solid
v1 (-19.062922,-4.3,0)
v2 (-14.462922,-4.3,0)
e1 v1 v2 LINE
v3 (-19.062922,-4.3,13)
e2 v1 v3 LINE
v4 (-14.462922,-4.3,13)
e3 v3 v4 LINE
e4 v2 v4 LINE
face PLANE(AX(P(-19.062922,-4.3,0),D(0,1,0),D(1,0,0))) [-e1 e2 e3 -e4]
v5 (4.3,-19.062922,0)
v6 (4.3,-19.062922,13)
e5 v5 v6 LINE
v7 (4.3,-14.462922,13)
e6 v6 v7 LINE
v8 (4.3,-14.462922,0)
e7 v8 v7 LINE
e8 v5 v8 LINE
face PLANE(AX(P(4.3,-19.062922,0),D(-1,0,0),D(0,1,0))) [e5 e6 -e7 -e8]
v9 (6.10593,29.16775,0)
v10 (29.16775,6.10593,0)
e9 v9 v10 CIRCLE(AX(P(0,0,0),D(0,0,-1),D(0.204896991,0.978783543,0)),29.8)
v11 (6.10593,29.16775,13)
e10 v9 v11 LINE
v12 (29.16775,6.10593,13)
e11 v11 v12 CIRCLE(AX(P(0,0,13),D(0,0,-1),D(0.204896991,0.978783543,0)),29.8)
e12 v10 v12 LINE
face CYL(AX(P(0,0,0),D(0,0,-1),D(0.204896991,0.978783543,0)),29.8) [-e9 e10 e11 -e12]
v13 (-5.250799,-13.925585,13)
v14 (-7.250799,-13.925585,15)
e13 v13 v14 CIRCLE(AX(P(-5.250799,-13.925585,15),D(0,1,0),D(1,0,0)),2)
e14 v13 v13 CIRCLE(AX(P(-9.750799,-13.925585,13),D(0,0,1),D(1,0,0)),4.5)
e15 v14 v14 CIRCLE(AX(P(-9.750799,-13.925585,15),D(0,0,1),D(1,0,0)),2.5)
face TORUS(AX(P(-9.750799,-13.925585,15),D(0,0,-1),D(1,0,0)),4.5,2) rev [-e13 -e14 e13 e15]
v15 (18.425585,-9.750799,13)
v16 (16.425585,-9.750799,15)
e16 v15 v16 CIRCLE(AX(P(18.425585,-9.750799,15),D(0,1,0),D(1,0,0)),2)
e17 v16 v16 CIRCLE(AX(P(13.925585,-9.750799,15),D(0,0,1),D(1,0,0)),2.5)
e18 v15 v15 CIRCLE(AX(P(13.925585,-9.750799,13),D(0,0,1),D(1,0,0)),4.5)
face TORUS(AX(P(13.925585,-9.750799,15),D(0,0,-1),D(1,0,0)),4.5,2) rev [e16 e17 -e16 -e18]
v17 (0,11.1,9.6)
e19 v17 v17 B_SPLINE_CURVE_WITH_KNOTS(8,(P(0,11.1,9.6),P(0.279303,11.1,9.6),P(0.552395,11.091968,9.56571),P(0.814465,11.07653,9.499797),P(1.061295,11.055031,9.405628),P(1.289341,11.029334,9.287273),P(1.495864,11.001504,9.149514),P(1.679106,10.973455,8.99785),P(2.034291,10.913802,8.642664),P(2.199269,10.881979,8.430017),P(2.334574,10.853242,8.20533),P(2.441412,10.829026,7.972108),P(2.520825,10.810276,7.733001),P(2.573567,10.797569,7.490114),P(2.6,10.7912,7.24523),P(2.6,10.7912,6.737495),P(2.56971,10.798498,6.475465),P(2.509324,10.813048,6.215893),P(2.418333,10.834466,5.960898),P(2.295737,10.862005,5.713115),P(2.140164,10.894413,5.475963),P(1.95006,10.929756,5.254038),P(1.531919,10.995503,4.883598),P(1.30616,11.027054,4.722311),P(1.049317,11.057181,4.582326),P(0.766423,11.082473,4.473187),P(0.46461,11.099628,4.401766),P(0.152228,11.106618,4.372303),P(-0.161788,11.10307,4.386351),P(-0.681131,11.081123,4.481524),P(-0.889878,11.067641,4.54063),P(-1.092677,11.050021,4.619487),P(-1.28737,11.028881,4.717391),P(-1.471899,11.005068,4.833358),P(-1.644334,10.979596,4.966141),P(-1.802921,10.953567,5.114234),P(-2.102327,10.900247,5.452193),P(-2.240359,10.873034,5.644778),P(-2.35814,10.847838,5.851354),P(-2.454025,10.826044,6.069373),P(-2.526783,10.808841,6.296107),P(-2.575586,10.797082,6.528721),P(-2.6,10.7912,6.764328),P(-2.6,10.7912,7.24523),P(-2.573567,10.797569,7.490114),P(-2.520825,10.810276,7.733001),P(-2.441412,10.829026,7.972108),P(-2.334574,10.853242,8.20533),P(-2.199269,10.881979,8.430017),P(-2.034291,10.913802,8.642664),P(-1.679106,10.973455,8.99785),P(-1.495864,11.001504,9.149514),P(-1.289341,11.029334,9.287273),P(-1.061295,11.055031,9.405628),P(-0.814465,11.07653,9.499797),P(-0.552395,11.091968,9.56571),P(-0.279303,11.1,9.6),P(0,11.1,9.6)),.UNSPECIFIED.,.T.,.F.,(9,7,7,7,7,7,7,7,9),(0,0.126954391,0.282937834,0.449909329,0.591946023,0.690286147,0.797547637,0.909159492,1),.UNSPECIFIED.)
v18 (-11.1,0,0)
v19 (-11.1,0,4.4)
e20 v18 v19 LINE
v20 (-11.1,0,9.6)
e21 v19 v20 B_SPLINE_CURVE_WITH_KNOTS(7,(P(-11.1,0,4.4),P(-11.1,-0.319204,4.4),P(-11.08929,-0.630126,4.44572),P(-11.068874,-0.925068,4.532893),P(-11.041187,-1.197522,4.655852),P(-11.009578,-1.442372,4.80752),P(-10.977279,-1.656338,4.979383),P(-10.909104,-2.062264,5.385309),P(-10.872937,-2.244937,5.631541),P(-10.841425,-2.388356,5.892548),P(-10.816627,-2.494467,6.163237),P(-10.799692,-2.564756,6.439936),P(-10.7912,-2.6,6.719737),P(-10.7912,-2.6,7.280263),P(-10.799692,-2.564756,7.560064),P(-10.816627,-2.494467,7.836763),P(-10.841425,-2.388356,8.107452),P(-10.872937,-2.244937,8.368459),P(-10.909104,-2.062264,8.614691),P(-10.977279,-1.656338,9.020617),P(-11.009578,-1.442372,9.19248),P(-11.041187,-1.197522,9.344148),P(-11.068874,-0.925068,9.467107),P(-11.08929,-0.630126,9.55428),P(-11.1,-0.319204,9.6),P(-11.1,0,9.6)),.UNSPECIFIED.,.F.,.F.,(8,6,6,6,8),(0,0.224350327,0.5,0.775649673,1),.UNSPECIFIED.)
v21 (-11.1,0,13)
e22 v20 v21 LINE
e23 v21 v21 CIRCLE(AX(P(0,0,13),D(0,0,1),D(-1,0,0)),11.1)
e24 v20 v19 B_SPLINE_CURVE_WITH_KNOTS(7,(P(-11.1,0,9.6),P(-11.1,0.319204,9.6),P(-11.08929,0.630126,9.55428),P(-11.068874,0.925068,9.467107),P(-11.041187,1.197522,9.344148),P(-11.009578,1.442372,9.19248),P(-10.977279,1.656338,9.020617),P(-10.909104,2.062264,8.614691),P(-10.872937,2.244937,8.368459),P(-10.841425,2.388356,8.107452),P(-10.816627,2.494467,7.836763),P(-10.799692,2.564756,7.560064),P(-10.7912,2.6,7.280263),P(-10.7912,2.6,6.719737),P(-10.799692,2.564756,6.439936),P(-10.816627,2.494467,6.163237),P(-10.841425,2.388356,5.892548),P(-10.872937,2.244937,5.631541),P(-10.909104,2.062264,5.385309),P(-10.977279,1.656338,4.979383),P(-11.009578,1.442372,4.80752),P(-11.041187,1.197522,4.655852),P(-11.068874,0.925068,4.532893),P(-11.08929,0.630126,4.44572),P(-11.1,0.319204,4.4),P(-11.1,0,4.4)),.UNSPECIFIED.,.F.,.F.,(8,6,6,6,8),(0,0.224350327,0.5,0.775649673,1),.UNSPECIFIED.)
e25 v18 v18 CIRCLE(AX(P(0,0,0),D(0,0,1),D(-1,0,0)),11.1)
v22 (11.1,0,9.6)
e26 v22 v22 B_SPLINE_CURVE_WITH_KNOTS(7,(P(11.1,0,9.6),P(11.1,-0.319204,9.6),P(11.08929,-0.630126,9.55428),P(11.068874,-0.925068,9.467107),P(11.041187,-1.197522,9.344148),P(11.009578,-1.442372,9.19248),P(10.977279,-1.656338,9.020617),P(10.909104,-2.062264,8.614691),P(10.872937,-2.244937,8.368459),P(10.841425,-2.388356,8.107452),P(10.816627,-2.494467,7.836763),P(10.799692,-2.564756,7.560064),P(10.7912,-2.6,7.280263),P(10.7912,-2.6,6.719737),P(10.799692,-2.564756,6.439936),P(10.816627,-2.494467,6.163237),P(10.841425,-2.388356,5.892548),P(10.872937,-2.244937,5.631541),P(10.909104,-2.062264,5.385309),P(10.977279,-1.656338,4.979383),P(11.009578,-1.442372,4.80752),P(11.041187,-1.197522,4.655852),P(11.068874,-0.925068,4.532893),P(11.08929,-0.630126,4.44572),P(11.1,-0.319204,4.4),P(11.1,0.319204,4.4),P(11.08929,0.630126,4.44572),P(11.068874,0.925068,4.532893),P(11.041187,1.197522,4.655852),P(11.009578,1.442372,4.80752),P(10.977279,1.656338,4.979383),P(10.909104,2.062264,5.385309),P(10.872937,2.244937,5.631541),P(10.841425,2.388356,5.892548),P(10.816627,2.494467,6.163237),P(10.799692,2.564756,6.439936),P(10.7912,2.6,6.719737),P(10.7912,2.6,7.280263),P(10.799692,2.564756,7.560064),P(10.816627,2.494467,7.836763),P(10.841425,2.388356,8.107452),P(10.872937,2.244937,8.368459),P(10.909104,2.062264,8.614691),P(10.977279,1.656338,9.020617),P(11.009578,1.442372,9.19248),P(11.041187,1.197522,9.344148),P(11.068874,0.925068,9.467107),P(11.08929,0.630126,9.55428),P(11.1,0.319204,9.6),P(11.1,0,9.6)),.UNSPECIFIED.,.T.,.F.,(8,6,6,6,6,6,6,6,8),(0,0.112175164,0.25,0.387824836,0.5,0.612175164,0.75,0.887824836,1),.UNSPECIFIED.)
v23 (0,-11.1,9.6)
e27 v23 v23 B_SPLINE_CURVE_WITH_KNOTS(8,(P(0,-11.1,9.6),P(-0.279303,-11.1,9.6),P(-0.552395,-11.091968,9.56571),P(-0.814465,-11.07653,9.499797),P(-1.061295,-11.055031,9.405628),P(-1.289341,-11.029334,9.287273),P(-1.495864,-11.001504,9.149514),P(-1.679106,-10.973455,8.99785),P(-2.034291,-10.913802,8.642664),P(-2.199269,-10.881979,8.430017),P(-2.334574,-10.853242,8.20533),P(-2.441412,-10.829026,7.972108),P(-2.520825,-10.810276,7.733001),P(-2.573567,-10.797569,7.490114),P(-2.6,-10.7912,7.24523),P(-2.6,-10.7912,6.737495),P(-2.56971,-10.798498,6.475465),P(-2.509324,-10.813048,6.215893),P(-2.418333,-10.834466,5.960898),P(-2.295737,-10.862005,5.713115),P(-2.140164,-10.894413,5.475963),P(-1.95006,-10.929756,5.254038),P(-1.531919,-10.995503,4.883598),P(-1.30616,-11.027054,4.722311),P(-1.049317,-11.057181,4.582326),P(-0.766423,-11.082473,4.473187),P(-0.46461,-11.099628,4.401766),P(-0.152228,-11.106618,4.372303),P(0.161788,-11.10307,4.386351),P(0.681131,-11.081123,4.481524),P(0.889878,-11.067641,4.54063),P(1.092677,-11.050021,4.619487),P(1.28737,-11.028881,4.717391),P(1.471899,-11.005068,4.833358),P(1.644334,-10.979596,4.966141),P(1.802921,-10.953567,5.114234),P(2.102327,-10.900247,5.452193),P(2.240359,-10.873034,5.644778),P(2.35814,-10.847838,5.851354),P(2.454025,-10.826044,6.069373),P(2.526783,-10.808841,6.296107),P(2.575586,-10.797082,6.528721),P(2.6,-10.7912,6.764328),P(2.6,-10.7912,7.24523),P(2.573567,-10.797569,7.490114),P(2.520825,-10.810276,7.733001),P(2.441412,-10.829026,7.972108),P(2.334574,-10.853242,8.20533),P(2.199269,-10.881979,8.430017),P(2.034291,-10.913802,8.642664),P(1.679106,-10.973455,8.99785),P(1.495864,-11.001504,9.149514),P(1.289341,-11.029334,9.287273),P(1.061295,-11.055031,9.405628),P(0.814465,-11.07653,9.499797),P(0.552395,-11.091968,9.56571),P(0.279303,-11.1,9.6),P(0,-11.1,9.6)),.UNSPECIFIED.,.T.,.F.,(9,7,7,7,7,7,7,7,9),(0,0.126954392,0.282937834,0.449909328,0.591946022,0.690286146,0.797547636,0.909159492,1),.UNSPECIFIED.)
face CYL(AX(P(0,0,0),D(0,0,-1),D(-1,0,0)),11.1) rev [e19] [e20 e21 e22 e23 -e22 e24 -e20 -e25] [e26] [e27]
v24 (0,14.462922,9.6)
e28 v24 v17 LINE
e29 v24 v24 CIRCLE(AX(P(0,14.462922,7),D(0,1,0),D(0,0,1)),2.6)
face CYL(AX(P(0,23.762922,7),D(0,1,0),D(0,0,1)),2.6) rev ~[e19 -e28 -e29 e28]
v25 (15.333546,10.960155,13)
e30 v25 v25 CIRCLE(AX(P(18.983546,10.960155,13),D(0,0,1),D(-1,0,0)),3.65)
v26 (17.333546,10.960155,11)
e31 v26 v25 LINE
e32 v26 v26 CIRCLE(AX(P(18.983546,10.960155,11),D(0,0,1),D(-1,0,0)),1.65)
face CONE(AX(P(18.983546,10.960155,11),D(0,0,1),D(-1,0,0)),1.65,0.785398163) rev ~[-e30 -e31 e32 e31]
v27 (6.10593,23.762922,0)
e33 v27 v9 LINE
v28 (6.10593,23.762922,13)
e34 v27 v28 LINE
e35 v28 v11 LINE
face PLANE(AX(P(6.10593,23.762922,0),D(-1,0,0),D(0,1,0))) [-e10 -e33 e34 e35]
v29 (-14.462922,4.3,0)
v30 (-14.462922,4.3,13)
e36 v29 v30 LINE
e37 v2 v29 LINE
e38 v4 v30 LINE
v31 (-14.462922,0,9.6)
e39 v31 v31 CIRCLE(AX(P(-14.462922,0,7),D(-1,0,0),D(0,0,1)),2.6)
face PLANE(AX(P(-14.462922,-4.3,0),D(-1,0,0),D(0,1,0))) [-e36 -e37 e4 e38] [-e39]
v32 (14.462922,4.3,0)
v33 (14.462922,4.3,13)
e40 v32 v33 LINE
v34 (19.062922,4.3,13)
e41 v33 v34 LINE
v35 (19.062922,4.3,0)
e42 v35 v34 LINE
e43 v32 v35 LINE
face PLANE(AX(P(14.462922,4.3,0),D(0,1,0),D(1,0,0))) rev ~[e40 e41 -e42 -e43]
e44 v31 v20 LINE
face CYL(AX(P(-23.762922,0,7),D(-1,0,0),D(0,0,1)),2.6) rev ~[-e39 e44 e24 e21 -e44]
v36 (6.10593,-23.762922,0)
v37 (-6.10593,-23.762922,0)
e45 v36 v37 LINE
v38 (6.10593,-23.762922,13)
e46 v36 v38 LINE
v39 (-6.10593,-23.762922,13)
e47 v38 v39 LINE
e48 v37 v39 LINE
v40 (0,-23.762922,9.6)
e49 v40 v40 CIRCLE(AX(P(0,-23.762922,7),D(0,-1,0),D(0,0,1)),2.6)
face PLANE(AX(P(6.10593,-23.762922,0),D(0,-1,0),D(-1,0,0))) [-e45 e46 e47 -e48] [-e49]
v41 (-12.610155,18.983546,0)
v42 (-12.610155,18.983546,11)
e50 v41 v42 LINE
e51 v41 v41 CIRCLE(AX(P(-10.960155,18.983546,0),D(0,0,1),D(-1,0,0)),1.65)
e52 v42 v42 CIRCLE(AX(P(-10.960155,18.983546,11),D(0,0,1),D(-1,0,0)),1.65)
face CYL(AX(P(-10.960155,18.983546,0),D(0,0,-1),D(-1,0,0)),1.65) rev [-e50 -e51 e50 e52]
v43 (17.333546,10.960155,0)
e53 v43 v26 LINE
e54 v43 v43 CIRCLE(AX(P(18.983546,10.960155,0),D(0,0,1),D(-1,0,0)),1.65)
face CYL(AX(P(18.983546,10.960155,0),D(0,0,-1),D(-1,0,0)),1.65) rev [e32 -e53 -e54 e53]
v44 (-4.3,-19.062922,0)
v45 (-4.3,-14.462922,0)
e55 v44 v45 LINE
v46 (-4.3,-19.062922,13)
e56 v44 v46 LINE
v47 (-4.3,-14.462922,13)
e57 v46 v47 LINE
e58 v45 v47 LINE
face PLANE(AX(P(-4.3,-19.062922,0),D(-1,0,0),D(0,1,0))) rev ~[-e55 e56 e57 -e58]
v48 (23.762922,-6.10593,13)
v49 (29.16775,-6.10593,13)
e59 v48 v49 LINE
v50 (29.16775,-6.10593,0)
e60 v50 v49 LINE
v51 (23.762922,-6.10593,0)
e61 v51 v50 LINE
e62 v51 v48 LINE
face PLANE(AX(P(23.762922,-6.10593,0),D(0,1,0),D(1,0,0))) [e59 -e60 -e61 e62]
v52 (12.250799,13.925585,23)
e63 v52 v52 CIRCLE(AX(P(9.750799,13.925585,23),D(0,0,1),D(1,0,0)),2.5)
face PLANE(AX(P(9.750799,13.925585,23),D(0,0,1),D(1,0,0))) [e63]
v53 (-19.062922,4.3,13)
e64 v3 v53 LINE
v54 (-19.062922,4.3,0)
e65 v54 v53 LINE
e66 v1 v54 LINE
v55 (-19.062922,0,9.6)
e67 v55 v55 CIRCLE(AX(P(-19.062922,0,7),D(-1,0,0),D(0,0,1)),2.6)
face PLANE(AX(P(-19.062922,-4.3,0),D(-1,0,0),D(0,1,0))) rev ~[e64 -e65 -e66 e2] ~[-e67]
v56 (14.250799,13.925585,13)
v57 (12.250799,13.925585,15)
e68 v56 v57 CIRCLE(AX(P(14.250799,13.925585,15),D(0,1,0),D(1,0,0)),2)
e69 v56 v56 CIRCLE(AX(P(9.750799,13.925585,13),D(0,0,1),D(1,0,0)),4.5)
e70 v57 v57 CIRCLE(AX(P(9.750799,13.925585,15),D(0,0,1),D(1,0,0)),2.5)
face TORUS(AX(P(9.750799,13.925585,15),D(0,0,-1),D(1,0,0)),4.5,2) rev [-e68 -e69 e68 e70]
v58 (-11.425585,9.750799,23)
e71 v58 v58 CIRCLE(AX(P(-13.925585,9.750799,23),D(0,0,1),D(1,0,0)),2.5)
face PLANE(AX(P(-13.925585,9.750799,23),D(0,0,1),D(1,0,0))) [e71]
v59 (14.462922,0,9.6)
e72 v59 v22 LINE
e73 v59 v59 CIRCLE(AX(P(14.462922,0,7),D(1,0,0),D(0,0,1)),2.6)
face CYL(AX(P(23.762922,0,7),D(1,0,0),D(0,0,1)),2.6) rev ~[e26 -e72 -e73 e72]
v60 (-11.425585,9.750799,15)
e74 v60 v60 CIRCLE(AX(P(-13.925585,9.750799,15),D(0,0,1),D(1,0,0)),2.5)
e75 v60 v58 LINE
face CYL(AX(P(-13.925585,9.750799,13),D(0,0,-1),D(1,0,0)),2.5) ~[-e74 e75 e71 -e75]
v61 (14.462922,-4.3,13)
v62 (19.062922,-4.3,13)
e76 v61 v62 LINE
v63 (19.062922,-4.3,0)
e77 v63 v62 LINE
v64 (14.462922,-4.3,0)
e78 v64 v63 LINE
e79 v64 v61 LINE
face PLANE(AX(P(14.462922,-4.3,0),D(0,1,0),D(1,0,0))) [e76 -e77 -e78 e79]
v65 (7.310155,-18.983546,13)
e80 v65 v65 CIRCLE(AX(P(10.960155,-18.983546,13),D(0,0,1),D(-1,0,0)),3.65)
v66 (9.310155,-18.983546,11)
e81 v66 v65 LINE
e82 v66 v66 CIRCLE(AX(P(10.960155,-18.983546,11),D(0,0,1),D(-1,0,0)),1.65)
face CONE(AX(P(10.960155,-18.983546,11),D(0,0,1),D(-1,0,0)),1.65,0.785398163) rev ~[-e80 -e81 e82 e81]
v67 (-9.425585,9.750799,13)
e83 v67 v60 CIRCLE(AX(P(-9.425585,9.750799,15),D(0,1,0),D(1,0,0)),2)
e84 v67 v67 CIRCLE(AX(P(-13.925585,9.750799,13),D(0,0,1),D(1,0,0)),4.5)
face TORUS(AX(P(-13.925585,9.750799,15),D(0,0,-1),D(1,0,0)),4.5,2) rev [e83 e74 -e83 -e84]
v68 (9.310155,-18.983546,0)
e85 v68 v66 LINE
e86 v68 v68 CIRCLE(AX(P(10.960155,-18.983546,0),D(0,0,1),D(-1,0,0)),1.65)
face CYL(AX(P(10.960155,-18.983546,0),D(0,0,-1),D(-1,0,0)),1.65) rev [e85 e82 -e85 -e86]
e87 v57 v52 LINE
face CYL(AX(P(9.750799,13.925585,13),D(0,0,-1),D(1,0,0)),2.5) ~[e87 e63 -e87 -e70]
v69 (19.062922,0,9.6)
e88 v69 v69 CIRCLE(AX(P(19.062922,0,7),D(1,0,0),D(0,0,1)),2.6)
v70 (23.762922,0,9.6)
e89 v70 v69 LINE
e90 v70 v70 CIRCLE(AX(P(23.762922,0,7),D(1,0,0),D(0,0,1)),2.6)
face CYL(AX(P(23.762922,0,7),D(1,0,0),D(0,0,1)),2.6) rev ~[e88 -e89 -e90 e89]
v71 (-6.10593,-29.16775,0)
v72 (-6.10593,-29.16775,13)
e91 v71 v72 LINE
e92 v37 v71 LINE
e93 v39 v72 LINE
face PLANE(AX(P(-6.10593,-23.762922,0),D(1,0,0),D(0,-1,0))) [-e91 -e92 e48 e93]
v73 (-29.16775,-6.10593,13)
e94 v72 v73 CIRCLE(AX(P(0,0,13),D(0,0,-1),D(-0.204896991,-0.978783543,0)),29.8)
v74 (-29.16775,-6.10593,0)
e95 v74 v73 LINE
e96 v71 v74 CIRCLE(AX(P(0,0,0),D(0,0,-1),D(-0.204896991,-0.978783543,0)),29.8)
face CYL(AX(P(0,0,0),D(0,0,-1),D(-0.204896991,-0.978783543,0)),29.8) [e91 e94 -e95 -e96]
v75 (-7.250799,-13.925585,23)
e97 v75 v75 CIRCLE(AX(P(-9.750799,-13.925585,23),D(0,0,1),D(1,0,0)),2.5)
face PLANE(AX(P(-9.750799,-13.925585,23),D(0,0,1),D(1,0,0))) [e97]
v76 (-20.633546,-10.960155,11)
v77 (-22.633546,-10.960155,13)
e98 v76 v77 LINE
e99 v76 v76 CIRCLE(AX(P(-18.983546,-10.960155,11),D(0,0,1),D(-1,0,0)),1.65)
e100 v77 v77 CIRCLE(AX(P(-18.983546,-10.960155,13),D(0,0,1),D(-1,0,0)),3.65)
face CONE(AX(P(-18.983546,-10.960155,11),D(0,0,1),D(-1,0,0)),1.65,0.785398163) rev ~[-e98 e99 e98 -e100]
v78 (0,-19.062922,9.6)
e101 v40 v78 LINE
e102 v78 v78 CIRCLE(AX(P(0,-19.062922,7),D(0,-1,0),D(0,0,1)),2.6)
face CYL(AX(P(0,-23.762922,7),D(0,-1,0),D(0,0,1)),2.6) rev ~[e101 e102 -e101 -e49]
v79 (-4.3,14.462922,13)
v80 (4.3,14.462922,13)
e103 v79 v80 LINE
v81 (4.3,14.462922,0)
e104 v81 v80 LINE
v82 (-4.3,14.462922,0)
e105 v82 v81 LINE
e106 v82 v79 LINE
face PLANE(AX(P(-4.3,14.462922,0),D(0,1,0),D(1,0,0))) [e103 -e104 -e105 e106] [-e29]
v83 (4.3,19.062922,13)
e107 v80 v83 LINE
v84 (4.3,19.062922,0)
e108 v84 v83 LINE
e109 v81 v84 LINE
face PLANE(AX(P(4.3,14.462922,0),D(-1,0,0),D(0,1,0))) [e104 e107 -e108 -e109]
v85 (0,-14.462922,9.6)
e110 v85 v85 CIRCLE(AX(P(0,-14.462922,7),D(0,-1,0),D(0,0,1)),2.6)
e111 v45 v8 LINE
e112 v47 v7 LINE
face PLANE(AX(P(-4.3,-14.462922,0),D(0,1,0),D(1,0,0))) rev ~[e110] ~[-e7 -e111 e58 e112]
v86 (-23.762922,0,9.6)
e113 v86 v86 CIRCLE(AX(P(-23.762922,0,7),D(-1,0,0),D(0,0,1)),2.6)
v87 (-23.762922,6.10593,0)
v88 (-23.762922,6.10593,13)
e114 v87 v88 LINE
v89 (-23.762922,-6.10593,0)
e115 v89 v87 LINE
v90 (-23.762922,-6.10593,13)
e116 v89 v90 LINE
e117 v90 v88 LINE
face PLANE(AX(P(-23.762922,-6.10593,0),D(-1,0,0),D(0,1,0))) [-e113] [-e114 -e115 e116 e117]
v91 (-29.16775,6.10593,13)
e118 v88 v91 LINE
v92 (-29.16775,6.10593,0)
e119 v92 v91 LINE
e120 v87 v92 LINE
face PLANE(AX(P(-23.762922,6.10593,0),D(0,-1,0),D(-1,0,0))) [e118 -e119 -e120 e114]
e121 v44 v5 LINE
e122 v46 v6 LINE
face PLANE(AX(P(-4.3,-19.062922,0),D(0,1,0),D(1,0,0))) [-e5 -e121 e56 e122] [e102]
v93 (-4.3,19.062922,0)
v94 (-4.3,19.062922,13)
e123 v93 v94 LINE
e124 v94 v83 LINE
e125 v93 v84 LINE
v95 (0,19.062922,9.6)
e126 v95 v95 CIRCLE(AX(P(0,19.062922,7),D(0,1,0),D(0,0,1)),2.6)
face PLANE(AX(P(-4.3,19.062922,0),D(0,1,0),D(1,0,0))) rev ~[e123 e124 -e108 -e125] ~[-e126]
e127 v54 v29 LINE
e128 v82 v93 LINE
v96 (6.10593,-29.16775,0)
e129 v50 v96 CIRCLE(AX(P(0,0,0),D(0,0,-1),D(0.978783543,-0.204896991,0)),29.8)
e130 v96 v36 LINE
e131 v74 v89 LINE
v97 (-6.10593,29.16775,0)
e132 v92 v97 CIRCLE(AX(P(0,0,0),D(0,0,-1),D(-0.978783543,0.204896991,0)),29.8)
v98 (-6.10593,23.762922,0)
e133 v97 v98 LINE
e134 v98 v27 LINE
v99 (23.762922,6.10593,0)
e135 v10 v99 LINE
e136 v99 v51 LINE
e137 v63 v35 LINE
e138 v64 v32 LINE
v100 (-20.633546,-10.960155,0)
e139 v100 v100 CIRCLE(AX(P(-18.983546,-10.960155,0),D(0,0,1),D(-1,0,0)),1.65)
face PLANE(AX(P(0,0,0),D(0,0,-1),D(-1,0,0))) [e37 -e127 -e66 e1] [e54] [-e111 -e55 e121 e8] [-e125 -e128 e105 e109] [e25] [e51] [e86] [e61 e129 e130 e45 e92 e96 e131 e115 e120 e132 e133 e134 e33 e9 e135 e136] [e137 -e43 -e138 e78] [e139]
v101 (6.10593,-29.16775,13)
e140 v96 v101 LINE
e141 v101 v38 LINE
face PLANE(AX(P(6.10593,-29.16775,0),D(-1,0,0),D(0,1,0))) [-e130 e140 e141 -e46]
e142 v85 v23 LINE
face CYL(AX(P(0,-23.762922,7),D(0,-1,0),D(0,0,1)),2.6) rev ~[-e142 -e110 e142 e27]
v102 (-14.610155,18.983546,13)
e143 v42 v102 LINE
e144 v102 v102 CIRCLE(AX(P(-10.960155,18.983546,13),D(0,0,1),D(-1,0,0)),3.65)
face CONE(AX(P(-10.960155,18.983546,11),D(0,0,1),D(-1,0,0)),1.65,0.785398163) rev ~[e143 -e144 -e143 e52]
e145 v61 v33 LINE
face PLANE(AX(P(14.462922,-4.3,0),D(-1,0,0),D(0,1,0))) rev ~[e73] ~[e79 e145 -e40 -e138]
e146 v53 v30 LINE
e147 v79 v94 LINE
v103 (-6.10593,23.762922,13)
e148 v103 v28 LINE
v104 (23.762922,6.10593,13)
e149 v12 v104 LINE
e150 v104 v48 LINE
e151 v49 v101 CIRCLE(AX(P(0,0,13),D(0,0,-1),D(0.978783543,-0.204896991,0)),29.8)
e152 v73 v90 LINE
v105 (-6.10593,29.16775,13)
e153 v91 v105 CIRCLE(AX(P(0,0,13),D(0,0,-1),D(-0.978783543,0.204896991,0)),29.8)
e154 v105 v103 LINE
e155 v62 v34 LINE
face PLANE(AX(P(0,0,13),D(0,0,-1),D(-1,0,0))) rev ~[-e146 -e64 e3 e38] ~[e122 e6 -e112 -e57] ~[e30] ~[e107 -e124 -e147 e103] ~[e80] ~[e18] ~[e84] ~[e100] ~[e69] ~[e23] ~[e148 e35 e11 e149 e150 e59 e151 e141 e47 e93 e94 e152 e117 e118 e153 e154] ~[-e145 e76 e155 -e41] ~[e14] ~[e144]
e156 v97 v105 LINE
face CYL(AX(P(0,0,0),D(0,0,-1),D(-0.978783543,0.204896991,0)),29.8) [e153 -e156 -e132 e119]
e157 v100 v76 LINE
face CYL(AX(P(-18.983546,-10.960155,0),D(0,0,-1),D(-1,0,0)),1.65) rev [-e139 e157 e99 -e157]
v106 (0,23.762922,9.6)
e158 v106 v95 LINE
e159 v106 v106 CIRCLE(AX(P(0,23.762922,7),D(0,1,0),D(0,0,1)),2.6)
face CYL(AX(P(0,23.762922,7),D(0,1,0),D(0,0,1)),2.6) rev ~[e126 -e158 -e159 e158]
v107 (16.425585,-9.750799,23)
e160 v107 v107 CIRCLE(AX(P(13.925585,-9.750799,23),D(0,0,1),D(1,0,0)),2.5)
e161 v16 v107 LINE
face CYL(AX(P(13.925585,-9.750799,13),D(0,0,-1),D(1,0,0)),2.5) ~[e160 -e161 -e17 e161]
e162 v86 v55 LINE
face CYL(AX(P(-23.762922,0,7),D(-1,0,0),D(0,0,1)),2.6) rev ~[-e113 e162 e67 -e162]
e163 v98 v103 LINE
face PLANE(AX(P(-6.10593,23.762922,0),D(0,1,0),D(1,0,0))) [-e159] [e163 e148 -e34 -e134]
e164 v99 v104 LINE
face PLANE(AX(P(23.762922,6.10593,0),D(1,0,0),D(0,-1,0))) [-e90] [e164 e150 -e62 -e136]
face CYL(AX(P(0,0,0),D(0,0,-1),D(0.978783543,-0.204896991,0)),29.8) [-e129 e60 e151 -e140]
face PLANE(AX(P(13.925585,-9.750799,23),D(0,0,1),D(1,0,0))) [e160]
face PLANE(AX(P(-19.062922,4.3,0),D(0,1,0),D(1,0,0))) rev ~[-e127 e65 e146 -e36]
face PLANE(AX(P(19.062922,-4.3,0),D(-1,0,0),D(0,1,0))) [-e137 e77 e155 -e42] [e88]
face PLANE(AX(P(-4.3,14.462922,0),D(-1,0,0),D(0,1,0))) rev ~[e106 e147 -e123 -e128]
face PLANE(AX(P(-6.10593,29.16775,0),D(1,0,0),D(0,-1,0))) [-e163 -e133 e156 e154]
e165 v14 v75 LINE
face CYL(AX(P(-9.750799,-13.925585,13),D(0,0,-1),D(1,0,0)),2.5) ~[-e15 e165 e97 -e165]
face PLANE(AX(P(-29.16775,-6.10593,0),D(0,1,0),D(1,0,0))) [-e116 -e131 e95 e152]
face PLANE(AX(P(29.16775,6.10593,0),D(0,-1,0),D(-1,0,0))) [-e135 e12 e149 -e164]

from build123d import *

# Parameters (mm, degrees)
ESQUISSE1_R                  = 11.1
ESQUISSE1_R_2                = 1.65
ESQUISSE1_W                  = 8.6
ESQUISSE1_H                  = 4.6
ESQUISSE1_W_2                = 4.6
ESQUISSE1_H_2                = 8.6
BOSS_EXTRU_1_DEPTH           = 13
CHANFREIN1_SIZE              = 2
ESQUISSE6_R                  = 2.6
ENL_V_MAT_EXTRU_4_DEPTH      = 17
R_P_TITION_CIRCULAIRE1_COUNT = 4
ESQUISSE7_R                  = 2.5
BOSS_EXTRU_2_DEPTH           = 10
CONG_1_R                     = 2


with BuildPart() as part:
    # Esquisse1 → Boss.-Extru.1 (new body)
    with BuildSketch(Plane.XY):
        with BuildLine():
            Line((-6.105930323, 29.167749568), (-6.105930323, 23.762922109))
            Line((-6.105930323, 23.762922109), (6.105930323, 23.762922109))
            Line((6.105930323, 23.762922109), (6.105930323, 29.167749568))
            ThreePointArc((6.105930323, 29.167749568), (21.071782079, 21.071782079), (29.167749568, 6.105930323))
            Line((29.167749568, 6.105930323), (23.762922109, 6.105930323))
            Line((23.762922109, 6.105930323), (23.762922109, -6.105930323))
            Line((23.762922109, -6.105930323), (29.167749568, -6.105930323))
            ThreePointArc((29.167749568, -6.105930323), (21.071782079, -21.071782079), (6.105930323, -29.167749568))
            Line((6.105930323, -29.167749568), (6.105930323, -23.762922109))
            Line((6.105930323, -23.762922109), (-6.105930323, -23.762922109))
            Line((-6.105930323, -23.762922109), (-6.105930323, -29.167749568))
            ThreePointArc((-6.105930323, -29.167749568), (-21.071782079, -21.071782079), (-29.167749568, -6.105930323))
            Line((-29.167749568, -6.105930323), (-23.762922109, -6.105930323))
            Line((-23.762922109, -6.105930323), (-23.762922109, 6.105930323))
            Line((-23.762922109, 6.105930323), (-29.167749568, 6.105930323))
            ThreePointArc((-29.167749568, 6.105930323), (-21.071782079, 21.071782079), (-6.105930323, 29.167749568))
        make_face()
        with Locations(Location((0, 0, 0), (0, 0, 180))):
            Circle(ESQUISSE1_R, mode=Mode.SUBTRACT)
        with Locations(Location((-10.960155108, 18.983545507, 0), (0, 0, 180))):
            Circle(ESQUISSE1_R_2, mode=Mode.SUBTRACT)
        with Locations(Location((18.983545507, 10.960155108, 0), (0, 0, 180))):
            Circle(ESQUISSE1_R_2, mode=Mode.SUBTRACT)
        with Locations(Location((10.960155108, -18.983545507, 0), (0, 0, 180))):
            Circle(ESQUISSE1_R_2, mode=Mode.SUBTRACT)
        with Locations(Location((-18.983545507, -10.960155108, 0), (0, 0, 180))):
            Circle(ESQUISSE1_R_2, mode=Mode.SUBTRACT)
        with Locations((0, 16.762922109)):
            Rectangle(ESQUISSE1_W, ESQUISSE1_H, mode=Mode.SUBTRACT)
        with Locations((16.762922109, 0)):
            Rectangle(ESQUISSE1_W_2, ESQUISSE1_H_2, mode=Mode.SUBTRACT)
        with Locations((0, -16.762922109)):
            Rectangle(ESQUISSE1_W, ESQUISSE1_H, mode=Mode.SUBTRACT)
        with Locations((-16.762922109, 0)):
            Rectangle(ESQUISSE1_W_2, ESQUISSE1_H_2, mode=Mode.SUBTRACT)
    extrude(amount=BOSS_EXTRU_1_DEPTH)

    # Chanfrein1
    chanfrein1_edges = [part.edges().sort_by_distance(p)[0] for p in [
        (-9.310155108, 18.983545507, 13),
        (20.633545507, 10.960155108, 13),
        (12.610155108, -18.983545507, 13),
        (-17.333545507, -10.960155108, 13),
    ]]
    chamfer(chanfrein1_edges, length=CHANFREIN1_SIZE)

    # Esquisse6 → Enlèv. mat.-Extru.4 (cut)
    with BuildSketch(Plane.ZY.offset(23.762922109)):
        with Locations((7, 0)):
            Circle(ESQUISSE6_R)
    enl_v_mat_extru_4 = extrude(amount=-ENL_V_MAT_EXTRU_4_DEPTH, mode=Mode.SUBTRACT)

    # Répétition circulaire1: Enlèv. mat.-Extru.4 ×4 about axis
    r_p_tition_circulaire1_axis = Axis((0, 0, 0), (0, 0, -1))
    for i in range(1, R_P_TITION_CIRCULAIRE1_COUNT):
        add(enl_v_mat_extru_4.rotate(r_p_tition_circulaire1_axis, i * 360 / R_P_TITION_CIRCULAIRE1_COUNT), mode=Mode.SUBTRACT)

    # Esquisse7 → Boss.-Extru.2 (add)
    with BuildSketch(Plane.XY.offset(13)):
        with Locations((-13.925584753, 9.750799418)):
            Circle(ESQUISSE7_R)
        with Locations((9.750799418, 13.925584753)):
            Circle(ESQUISSE7_R)
        with Locations((13.925584753, -9.750799418)):
            Circle(ESQUISSE7_R)
        with Locations((-9.750799418, -13.925584753)):
            Circle(ESQUISSE7_R)
    extrude(amount=BOSS_EXTRU_2_DEPTH)

    # Congé1
    cong_1_edges = [part.edges().sort_by_distance(p)[0] for p in [
        (-16.425584753, 9.750799418, 13),
        (7.250799418, 13.925584753, 13),
        (11.425584753, -9.750799418, 13),
        (-12.250799418, -13.925584753, 13),
    ]]
    fillet(cong_1_edges, radius=CONG_1_R)


solid = part.part
